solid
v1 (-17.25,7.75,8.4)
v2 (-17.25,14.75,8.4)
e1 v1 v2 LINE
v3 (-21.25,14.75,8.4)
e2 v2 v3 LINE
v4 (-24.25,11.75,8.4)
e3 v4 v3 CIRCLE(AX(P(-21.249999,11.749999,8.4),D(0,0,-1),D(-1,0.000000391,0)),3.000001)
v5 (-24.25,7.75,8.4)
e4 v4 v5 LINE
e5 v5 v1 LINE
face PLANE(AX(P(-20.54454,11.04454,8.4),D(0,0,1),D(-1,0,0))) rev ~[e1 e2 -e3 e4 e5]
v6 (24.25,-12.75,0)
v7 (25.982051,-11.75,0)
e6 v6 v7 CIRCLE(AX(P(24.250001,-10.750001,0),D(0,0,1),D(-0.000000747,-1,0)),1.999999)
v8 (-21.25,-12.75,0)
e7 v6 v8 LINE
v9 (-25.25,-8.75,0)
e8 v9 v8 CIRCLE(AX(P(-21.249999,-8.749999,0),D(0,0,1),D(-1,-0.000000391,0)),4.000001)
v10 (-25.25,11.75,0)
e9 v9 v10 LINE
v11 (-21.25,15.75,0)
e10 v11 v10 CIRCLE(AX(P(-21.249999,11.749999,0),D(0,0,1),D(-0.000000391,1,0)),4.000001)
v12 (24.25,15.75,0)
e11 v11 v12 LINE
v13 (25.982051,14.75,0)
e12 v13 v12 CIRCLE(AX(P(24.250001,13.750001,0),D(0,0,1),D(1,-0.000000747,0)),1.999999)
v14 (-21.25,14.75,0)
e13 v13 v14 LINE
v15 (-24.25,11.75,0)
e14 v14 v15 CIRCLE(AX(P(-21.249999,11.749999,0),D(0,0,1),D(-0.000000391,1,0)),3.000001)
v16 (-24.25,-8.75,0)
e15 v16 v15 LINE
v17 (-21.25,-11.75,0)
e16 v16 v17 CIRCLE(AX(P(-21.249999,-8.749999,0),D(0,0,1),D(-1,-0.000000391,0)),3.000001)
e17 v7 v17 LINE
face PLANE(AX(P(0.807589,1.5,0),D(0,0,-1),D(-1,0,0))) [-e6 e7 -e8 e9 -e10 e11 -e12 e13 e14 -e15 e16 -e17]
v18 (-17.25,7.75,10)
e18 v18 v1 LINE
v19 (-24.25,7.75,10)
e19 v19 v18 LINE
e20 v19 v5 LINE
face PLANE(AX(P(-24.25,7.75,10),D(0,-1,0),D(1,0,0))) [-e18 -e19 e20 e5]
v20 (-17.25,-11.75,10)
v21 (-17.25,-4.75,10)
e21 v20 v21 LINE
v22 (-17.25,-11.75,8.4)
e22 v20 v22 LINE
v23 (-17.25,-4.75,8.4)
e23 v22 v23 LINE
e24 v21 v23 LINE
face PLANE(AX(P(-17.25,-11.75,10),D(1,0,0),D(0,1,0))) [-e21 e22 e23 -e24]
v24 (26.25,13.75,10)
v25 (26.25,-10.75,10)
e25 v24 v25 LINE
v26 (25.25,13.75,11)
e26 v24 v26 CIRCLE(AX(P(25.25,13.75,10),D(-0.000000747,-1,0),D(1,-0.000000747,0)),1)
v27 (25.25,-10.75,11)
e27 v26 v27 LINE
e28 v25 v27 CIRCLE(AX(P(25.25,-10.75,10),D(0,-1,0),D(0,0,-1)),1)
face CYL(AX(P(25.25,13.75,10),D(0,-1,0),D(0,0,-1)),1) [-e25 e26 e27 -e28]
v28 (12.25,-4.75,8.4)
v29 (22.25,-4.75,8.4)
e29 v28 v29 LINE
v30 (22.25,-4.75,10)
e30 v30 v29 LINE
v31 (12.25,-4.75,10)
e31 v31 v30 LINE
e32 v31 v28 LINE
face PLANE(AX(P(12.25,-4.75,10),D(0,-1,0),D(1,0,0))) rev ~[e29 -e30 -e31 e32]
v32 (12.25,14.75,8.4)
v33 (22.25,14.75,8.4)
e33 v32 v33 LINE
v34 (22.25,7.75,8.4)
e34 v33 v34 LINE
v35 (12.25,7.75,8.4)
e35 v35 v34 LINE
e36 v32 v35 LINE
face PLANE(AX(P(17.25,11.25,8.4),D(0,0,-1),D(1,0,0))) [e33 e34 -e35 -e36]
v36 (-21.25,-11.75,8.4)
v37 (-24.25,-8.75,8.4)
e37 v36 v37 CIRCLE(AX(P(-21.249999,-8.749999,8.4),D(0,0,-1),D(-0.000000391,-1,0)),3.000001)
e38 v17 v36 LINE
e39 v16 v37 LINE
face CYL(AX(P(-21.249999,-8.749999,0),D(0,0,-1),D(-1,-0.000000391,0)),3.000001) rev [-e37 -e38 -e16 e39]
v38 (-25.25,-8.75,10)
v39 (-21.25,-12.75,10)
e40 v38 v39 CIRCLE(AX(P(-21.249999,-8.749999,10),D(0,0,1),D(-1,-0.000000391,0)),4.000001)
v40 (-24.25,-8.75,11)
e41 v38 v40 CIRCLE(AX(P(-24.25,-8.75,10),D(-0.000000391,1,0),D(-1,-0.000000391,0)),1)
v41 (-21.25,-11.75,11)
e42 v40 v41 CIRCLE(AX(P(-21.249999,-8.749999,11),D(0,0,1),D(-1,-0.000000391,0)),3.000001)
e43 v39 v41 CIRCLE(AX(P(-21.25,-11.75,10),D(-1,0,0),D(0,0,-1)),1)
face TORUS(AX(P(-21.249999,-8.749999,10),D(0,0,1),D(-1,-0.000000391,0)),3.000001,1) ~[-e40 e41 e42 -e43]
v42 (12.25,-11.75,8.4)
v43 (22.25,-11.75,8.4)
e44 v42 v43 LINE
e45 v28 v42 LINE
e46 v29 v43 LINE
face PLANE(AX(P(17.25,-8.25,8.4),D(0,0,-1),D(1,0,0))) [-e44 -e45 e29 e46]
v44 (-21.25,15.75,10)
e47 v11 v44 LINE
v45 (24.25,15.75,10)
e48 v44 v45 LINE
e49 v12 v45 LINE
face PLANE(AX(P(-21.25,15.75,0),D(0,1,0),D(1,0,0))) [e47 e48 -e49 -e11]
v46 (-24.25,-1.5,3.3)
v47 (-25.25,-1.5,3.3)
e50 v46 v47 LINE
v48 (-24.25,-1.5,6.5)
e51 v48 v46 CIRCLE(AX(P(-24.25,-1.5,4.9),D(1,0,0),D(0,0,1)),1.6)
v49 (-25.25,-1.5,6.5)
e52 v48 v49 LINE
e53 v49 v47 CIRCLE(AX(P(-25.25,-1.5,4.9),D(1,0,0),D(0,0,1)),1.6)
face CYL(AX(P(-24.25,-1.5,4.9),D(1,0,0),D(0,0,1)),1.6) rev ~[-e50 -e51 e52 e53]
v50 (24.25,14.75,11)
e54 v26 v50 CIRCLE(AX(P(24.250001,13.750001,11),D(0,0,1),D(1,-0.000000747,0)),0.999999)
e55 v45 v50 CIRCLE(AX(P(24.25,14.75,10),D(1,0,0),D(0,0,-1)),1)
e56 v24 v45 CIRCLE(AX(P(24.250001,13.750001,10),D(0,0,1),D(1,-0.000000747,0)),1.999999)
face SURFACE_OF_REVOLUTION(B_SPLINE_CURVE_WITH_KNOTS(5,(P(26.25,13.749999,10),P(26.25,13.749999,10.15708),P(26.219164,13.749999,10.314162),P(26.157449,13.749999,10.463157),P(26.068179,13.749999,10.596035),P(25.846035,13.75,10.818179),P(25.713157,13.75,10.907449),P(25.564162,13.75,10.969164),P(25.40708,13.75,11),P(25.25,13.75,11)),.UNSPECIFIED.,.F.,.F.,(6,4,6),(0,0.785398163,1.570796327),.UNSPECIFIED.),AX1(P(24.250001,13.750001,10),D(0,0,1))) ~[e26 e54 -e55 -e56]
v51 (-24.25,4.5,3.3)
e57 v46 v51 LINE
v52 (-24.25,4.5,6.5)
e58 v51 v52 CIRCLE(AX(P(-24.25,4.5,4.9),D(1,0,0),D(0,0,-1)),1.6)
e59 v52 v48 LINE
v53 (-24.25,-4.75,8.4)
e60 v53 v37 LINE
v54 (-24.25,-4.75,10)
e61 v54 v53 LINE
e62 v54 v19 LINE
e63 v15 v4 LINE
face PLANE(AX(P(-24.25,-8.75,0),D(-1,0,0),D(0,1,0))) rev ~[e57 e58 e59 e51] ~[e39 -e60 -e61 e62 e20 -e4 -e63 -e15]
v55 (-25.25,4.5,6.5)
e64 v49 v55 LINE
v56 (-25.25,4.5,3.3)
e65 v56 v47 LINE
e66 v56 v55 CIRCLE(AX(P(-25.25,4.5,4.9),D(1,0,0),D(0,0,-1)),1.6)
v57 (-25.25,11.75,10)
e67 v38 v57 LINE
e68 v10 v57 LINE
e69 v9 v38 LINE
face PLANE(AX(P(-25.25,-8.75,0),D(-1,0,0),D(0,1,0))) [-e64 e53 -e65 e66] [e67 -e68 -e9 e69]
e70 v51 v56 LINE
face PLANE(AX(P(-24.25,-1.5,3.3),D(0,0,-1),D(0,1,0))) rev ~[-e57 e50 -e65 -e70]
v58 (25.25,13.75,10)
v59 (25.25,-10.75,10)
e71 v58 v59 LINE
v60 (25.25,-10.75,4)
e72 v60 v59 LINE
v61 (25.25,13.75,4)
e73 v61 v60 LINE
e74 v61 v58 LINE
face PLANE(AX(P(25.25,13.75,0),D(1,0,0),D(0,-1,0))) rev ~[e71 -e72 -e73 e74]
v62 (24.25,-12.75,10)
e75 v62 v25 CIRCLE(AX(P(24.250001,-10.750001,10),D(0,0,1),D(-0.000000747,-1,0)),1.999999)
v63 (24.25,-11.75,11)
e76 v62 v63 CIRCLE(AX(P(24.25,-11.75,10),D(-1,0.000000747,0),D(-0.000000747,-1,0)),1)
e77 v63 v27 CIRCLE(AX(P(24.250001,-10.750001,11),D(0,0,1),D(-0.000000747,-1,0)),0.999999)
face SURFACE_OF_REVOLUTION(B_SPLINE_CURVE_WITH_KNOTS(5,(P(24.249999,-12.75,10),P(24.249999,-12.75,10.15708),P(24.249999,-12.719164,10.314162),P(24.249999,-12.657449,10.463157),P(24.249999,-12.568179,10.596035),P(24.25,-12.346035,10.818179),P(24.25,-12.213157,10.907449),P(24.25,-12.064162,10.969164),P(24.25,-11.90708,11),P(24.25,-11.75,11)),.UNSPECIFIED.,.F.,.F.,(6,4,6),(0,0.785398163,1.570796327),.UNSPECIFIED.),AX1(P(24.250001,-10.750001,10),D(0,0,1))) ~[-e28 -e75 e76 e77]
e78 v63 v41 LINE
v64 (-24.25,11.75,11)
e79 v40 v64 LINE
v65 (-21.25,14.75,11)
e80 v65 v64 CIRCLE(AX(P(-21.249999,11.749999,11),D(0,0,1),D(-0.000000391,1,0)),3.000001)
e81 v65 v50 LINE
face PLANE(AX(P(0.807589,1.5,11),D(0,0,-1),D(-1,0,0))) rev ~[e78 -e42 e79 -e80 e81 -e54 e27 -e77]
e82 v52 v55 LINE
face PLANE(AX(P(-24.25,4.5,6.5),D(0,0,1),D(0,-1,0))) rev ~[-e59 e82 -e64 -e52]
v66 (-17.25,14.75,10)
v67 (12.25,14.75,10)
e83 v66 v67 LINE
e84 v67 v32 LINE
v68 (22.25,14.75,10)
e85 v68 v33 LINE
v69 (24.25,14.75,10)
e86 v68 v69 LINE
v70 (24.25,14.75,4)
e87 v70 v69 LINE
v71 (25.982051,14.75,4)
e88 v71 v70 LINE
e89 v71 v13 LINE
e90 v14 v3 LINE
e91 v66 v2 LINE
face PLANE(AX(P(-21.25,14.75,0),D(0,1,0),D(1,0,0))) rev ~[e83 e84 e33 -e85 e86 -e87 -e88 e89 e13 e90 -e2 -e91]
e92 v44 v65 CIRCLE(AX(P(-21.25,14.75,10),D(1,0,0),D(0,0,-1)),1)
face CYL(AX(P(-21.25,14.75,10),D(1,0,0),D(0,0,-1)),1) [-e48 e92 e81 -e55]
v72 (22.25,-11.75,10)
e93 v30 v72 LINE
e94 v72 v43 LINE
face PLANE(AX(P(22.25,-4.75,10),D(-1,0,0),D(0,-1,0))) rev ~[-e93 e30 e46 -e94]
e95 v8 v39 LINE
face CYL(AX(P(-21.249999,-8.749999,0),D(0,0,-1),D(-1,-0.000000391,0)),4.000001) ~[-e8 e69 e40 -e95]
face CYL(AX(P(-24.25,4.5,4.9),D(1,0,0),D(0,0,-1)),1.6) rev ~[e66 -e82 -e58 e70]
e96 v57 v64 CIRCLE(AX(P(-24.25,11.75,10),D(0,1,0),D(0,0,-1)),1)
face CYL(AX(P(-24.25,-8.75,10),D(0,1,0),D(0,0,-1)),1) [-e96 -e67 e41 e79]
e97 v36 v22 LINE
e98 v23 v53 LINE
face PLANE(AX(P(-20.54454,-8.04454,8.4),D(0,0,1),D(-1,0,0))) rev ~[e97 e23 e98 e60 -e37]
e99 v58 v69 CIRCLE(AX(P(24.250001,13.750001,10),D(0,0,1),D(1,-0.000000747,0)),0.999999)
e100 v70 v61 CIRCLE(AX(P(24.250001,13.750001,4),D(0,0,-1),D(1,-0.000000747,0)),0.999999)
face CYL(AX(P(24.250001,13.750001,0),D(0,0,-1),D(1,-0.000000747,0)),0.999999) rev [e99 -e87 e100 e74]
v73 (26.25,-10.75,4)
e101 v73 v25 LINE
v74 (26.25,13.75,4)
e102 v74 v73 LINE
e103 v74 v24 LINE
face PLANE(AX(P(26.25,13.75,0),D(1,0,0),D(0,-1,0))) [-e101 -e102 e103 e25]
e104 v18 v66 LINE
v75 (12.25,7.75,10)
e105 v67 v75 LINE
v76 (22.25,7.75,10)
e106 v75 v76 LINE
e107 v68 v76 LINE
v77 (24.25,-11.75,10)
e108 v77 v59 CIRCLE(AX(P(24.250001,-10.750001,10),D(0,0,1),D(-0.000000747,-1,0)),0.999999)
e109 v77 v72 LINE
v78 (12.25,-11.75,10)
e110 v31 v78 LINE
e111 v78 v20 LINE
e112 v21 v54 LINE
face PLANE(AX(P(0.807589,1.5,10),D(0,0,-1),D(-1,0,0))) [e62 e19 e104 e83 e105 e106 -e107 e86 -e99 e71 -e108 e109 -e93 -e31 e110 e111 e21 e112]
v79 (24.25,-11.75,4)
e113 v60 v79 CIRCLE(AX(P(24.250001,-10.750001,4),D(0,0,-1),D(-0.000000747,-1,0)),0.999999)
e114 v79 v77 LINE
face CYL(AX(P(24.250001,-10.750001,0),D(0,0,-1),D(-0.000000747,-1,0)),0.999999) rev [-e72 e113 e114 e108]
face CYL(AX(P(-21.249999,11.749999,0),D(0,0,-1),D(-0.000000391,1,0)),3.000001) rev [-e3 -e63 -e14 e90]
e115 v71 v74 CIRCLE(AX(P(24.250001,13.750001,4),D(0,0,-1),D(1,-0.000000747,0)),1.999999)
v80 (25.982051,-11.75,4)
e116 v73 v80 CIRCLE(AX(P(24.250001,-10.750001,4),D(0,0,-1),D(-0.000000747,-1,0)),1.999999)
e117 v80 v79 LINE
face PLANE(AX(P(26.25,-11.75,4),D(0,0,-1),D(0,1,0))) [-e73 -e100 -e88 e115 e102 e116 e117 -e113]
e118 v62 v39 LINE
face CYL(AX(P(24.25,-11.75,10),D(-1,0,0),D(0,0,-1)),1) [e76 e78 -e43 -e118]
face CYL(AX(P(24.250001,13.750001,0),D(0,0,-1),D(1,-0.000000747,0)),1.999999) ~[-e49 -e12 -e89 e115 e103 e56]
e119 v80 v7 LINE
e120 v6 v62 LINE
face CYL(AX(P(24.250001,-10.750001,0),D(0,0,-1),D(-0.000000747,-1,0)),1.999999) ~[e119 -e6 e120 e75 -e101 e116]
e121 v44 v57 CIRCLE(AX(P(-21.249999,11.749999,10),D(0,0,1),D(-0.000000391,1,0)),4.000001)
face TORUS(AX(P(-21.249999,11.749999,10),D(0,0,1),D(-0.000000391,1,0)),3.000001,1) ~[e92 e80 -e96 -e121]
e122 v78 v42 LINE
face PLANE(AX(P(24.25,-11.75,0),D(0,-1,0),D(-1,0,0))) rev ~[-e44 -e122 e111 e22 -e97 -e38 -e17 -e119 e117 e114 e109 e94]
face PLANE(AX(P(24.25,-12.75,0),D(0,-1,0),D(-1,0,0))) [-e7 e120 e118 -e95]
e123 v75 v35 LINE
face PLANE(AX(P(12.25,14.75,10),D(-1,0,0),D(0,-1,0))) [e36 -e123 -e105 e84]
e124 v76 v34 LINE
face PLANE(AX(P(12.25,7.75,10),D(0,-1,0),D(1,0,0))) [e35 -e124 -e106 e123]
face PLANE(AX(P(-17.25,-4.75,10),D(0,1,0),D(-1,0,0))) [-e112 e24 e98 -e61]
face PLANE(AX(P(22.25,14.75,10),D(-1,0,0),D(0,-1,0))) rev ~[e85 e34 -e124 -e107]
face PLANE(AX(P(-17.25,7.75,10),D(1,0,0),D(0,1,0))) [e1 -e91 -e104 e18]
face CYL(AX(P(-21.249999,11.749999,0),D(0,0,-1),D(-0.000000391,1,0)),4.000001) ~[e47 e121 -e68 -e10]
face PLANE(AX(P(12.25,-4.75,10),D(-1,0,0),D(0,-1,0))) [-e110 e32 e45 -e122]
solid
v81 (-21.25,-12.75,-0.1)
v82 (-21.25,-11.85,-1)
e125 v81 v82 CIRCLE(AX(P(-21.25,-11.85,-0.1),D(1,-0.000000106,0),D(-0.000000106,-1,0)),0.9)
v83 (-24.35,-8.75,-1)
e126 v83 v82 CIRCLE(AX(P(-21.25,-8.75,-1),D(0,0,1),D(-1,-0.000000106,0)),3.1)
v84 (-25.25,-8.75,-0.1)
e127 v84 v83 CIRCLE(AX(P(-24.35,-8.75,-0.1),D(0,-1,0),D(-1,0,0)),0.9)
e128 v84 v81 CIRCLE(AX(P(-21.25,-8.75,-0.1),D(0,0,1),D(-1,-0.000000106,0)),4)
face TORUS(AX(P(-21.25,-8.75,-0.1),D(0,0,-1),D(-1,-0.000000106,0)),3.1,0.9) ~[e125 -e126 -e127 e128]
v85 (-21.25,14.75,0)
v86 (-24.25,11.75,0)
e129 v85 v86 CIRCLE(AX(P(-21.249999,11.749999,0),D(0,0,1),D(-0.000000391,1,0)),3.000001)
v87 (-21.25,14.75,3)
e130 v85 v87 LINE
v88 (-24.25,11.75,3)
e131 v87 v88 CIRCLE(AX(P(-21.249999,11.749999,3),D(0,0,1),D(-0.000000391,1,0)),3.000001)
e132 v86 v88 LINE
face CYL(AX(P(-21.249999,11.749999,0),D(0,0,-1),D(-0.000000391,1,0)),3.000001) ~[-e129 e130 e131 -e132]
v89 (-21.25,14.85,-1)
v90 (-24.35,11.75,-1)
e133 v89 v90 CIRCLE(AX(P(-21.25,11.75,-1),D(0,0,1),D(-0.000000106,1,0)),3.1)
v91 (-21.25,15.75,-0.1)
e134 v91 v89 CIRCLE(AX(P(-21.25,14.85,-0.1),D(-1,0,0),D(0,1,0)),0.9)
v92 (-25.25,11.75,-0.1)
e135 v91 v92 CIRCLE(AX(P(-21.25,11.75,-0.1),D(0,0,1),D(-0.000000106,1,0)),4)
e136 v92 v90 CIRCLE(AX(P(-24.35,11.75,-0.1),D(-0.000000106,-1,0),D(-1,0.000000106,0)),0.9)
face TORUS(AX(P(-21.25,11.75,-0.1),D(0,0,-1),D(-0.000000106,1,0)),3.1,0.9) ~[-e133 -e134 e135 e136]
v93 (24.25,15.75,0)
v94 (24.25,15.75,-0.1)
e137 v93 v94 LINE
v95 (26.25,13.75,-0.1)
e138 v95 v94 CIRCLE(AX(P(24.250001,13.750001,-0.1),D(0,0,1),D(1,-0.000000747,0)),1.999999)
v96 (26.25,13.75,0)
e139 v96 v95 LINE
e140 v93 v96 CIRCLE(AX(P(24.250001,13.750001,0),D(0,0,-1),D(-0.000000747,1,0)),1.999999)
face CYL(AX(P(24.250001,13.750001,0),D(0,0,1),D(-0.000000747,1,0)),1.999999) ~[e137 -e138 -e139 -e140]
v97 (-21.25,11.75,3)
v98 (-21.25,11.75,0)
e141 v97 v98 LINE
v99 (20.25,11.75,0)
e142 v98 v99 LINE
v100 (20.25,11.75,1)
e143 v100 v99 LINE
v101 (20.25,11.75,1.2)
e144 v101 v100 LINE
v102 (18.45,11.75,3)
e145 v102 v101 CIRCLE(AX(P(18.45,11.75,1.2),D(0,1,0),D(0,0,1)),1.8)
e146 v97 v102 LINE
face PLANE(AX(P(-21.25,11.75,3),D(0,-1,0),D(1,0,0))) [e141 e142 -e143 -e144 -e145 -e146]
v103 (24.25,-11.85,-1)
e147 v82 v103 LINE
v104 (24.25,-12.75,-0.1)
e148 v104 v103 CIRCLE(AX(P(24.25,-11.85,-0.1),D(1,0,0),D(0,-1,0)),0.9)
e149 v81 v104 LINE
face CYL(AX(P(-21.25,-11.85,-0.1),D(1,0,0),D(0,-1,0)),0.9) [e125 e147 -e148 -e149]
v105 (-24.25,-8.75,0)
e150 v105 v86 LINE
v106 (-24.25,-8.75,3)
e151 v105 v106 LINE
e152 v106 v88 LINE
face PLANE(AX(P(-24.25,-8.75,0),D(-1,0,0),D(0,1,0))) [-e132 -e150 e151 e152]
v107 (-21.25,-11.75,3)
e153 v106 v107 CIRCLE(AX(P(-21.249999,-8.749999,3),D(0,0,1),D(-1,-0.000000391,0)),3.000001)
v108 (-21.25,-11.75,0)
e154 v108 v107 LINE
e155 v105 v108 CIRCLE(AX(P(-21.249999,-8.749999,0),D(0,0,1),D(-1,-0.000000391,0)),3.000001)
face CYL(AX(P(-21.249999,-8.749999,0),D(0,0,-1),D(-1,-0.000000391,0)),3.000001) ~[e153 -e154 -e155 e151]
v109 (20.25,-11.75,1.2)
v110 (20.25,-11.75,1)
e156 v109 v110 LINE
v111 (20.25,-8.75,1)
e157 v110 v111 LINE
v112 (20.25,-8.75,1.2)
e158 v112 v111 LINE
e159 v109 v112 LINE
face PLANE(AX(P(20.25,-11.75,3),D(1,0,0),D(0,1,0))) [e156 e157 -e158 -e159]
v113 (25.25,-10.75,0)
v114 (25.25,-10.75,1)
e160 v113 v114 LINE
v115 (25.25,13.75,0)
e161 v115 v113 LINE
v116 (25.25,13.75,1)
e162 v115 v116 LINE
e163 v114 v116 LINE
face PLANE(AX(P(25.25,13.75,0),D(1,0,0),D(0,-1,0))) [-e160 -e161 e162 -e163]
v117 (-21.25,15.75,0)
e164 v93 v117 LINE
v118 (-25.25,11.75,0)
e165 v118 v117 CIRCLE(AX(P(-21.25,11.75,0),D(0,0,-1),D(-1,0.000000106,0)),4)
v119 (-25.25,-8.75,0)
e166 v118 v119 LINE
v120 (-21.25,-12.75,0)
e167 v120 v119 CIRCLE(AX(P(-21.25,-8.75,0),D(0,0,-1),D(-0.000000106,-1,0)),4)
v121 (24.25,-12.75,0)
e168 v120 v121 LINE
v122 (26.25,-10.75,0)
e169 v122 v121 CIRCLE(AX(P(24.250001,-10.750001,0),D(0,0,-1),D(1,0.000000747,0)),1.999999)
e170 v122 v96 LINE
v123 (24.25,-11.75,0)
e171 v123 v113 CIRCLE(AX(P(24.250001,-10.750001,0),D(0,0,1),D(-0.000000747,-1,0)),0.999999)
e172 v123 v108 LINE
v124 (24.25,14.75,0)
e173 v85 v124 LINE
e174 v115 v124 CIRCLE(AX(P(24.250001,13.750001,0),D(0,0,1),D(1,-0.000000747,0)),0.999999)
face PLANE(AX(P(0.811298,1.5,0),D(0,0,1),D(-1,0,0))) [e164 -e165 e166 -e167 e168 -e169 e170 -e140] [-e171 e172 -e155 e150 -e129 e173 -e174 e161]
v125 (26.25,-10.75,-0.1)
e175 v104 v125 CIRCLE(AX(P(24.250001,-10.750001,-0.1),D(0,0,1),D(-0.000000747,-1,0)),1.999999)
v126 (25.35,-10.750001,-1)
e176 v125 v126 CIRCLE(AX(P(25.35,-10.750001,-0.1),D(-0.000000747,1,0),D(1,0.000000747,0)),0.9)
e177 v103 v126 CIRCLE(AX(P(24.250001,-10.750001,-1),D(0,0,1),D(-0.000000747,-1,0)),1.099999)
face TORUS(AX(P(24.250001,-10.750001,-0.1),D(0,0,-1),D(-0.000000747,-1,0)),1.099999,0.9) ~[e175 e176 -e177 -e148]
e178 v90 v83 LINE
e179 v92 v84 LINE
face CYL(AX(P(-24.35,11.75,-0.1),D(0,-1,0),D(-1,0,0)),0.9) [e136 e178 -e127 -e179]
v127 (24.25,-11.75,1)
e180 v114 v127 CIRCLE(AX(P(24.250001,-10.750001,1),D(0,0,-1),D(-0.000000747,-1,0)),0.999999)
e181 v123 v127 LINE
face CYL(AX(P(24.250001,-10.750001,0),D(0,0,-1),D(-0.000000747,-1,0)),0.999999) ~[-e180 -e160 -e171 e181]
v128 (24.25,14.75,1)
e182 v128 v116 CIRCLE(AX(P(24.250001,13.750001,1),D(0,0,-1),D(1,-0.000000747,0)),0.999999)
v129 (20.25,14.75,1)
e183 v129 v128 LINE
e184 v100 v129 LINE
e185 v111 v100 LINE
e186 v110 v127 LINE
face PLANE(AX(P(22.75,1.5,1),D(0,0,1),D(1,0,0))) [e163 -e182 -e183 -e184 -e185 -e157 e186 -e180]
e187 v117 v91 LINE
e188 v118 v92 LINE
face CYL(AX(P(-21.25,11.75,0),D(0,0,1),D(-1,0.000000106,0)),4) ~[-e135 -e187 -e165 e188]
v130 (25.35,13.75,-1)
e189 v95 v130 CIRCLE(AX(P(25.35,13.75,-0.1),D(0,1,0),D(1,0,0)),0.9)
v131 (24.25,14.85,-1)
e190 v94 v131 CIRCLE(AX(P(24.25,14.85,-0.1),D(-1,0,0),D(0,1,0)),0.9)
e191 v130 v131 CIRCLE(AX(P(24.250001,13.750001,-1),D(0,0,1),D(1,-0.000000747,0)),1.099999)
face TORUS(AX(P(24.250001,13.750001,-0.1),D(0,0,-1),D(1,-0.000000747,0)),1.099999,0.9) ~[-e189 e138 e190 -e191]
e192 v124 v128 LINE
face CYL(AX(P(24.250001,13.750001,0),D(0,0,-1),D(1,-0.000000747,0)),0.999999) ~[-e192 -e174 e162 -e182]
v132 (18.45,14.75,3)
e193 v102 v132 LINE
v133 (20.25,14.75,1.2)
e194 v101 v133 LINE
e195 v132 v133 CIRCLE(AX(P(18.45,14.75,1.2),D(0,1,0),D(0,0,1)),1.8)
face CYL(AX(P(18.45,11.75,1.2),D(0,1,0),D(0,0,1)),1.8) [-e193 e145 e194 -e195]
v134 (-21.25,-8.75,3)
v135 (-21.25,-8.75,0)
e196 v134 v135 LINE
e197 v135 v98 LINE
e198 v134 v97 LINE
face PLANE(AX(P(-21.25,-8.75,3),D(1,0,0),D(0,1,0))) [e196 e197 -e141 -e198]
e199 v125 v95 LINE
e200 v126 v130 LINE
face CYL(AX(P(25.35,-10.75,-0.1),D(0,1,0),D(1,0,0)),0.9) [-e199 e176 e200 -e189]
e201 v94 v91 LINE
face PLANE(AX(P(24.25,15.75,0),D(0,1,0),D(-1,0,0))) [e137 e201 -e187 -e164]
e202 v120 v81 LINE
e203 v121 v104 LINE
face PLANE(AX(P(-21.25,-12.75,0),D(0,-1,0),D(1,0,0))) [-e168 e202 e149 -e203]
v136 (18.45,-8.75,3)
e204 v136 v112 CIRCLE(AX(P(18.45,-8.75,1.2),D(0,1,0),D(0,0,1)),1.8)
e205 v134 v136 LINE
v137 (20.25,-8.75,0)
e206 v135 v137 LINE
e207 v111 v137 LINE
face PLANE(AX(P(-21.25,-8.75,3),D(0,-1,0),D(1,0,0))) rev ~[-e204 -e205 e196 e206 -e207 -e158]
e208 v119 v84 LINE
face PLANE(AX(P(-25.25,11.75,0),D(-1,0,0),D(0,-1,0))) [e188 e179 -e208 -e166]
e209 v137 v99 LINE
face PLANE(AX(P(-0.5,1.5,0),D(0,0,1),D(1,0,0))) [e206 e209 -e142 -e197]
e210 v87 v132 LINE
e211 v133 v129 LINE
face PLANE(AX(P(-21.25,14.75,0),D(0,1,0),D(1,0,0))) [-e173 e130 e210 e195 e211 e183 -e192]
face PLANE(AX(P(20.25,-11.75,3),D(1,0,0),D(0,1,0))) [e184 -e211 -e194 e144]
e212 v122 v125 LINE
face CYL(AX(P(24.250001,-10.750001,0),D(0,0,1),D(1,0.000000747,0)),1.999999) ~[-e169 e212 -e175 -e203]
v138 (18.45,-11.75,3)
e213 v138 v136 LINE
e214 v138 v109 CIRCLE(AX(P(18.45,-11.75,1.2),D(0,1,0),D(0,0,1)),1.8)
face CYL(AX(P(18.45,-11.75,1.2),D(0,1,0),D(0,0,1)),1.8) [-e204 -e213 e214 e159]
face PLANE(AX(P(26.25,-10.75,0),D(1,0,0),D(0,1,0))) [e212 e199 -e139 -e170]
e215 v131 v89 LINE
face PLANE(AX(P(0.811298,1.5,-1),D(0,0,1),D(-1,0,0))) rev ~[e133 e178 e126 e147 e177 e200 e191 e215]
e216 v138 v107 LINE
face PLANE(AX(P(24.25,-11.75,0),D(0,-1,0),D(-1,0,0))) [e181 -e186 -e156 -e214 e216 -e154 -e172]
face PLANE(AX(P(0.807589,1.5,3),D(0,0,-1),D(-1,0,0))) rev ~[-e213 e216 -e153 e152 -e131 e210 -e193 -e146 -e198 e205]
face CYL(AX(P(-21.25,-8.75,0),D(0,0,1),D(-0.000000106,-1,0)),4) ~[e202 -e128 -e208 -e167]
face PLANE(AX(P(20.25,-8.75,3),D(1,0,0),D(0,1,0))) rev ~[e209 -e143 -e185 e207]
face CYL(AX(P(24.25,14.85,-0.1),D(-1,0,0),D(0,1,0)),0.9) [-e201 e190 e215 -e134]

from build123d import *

# Parameters (mm, degrees)
PAD_DEPTH       = 10
THICKNESS_T     = 1
SKETCH001_W     = 10
SKETCH001_H     = 7
PAD001_DEPTH    = 1.6
SKETCH002_W     = 24.5
SKETCH002_H     = 4
POCKET_DEPTH    = 1
POCKET001_DEPTH = 5
SKETCH006_W     = 26.5
SKETCH006_H     = 4
POCKET002_DEPTH = 5
PAD002_DEPTH    = 3
PAD003_DEPTH    = 1
SKETCH007_W     = 41.5
SKETCH007_H     = 20.5
POCKET003_DEPTH = 3
SKETCH008_W     = 5
SKETCH008_H     = 26.5
POCKET004_DEPTH = 2
FILLET_R        = 1.8
FILLET001_R     = 0.9


with BuildPart() as bottom:
    # Sketch → Pad (new body)
    with BuildSketch(Plane.XY):
        with BuildLine():
            Line((-21.25, 14.75), (24.25, 14.75))
            ThreePointArc((25.25, 13.75), (24.957107, 14.457107), (24.25, 14.75))
            Line((25.25, 13.75), (25.25, -10.75))
            ThreePointArc((24.25, -11.75), (24.957107, -11.457107), (25.25, -10.75))
            Line((24.25, -11.75), (-21.25, -11.75))
            ThreePointArc((-24.25, -8.75), (-23.37132, -10.87132), (-21.25, -11.75))
            Line((-24.25, -8.75), (-24.25, 11.75))
            ThreePointArc((-21.25, 14.75), (-23.37132, 13.87132), (-24.25, 11.75))
        make_face()
    extrude(amount=PAD_DEPTH)

    # Thickness
    thickness_openings = [bottom.faces().sort_by_distance(p)[0] for p in [
        (0.563092, 1.5, 0),
    ]]
    offset(amount=THICKNESS_T, openings=thickness_openings)

    # Sketch001 (on Face9 of Thickness) → Pad001 (join)
    with BuildSketch(Plane(origin=(0, 0, 10), x_dir=(1, 0, 0), z_dir=(0, 0, -1))):
        with BuildLine():
            Line((-21.25, 11.75), (-17.25, 11.75))
            Line((-17.25, 11.75), (-17.25, 4.75))
            Line((-17.25, 4.75), (-24.25, 4.75))
            Line((-24.25, 4.75), (-24.25, 8.75))
            ThreePointArc((-21.25, 11.75), (-23.37132, 10.87132), (-24.25, 8.75))
        make_face()
        with BuildLine():
            Line((-24.25, -7.75), (-17.25, -7.75))
            Line((-17.25, -7.75), (-17.25, -14.75))
            Line((-17.25, -14.75), (-21.25, -14.75))
            ThreePointArc((-24.25, -11.75), (-23.37132, -13.87132), (-21.25, -14.75))
            Line((-24.25, -11.75), (-24.25, -7.75))
        make_face()
        with Locations((17.25, -11.25)):
            Rectangle(SKETCH001_W, SKETCH001_H)
        with Locations((17.25, 8.25)):
            Rectangle(SKETCH001_W, SKETCH001_H)
    extrude(amount=PAD001_DEPTH)

    # Sketch002 (on Face11 of Pad001) → Pocket (cut)
    with BuildSketch(Plane(origin=(25.25, 0, 0), x_dir=(0, -1, 0), z_dir=(-1, 0, 0))):
        with Locations((-1.5, 2)):
            Rectangle(SKETCH002_W, SKETCH002_H)
    extrude(amount=-POCKET_DEPTH, mode=Mode.SUBTRACT)

    # Sketch003 (on Face11 of Pocket) → Pocket001 (cut)
    with BuildSketch(Plane.YZ.offset(-24.25)):
        with BuildLine():
            ThreePointArc((-1.5, 6.5), (-3.1, 4.9), (-1.5, 3.3))
            Line((-1.5, 3.3), (4.5, 3.3))
            ThreePointArc((4.5, 3.3), (6.1, 4.9), (4.5, 6.5))
            Line((4.5, 6.5), (-1.5, 6.5))
        make_face()
    extrude(amount=-POCKET001_DEPTH, mode=Mode.SUBTRACT)

    # Sketch006 (on Face40 of Pocket001) → Pocket002 (cut)
    with BuildSketch(Plane.YZ.offset(26.25)):
        with Locations((1.5, 2)):
            Rectangle(SKETCH006_W, SKETCH006_H)
    extrude(amount=-POCKET002_DEPTH, mode=Mode.SUBTRACT)


with BuildPart() as top:
    # Sketch004 → Pad002 (new body)
    with BuildSketch(Plane.XY):
        with BuildLine():
            Line((-21.25, 14.75), (24.25, 14.75))
            ThreePointArc((25.25, 13.75), (24.957107, 14.457107), (24.25, 14.75))
            Line((25.25, 13.75), (25.25, -10.75))
            ThreePointArc((24.25, -11.75), (24.957107, -11.457107), (25.25, -10.75))
            Line((24.25, -11.75), (-21.25, -11.75))
            ThreePointArc((-24.25, -8.75), (-23.37132, -10.87132), (-21.25, -11.75))
            Line((-24.25, -8.75), (-24.25, 11.75))
            ThreePointArc((-21.25, 14.75), (-23.37132, 13.87132), (-24.25, 11.75))
        make_face()
    extrude(amount=PAD002_DEPTH)

    # Sketch005 (on Face9 of Pad002) → Pad003 (join)
    with BuildSketch(Plane(origin=(0, 0, 0), x_dir=(1, 0, 0), z_dir=(0, 0, -1))):
        with BuildLine():
            Line((-21.25, 12.75), (24.25, 12.75))
            ThreePointArc((26.25, 10.75), (25.664214, 12.164214), (24.25, 12.75))
            Line((26.25, 10.75), (26.25, -13.75))
            ThreePointArc((24.25, -15.75), (25.664214, -15.164214), (26.25, -13.75))
            Line((24.25, -15.75), (-21.25, -15.75))
            ThreePointArc((-25.25, -11.75), (-24.078427, -14.578427), (-21.25, -15.75))
            Line((-25.25, -11.75), (-25.25, 8.75))
            ThreePointArc((-21.25, 12.75), (-24.078427, 11.578427), (-25.25, 8.75))
        make_face()
    extrude(amount=PAD003_DEPTH)

    # Sketch007 (on Face19 of Pad003) → Pocket003 (cut)
    with BuildSketch(Plane.XY.offset(3)):
        with Locations((-0.5, 1.5)):
            Rectangle(SKETCH007_W, SKETCH007_H)
    extrude(amount=-POCKET003_DEPTH, mode=Mode.SUBTRACT)

    # Sketch008 (on Face19 of Pocket003) → Pocket004 (cut)
    with BuildSketch(Plane.XY.offset(3)):
        with Locations((22.75, 1.5)):
            Rectangle(SKETCH008_W, SKETCH008_H)
    extrude(amount=-POCKET004_DEPTH, mode=Mode.SUBTRACT)

    # Fillet
    fillet_edges = [top.edges().sort_by_distance(p)[0] for p in [
        (20.25, 13.25, 3),
        (20.25, -10.25, 3),
    ]]
    fillet(fillet_edges, radius=FILLET_R)

    # Fillet001
    fillet001_edges = [top.edges().sort_by_distance(p)[0] for p in [
        (1.5, 15.75, -1),
    ]]
    fillet(fillet001_edges, radius=FILLET001_R)


solid = Compound([bottom.part, top.part])
